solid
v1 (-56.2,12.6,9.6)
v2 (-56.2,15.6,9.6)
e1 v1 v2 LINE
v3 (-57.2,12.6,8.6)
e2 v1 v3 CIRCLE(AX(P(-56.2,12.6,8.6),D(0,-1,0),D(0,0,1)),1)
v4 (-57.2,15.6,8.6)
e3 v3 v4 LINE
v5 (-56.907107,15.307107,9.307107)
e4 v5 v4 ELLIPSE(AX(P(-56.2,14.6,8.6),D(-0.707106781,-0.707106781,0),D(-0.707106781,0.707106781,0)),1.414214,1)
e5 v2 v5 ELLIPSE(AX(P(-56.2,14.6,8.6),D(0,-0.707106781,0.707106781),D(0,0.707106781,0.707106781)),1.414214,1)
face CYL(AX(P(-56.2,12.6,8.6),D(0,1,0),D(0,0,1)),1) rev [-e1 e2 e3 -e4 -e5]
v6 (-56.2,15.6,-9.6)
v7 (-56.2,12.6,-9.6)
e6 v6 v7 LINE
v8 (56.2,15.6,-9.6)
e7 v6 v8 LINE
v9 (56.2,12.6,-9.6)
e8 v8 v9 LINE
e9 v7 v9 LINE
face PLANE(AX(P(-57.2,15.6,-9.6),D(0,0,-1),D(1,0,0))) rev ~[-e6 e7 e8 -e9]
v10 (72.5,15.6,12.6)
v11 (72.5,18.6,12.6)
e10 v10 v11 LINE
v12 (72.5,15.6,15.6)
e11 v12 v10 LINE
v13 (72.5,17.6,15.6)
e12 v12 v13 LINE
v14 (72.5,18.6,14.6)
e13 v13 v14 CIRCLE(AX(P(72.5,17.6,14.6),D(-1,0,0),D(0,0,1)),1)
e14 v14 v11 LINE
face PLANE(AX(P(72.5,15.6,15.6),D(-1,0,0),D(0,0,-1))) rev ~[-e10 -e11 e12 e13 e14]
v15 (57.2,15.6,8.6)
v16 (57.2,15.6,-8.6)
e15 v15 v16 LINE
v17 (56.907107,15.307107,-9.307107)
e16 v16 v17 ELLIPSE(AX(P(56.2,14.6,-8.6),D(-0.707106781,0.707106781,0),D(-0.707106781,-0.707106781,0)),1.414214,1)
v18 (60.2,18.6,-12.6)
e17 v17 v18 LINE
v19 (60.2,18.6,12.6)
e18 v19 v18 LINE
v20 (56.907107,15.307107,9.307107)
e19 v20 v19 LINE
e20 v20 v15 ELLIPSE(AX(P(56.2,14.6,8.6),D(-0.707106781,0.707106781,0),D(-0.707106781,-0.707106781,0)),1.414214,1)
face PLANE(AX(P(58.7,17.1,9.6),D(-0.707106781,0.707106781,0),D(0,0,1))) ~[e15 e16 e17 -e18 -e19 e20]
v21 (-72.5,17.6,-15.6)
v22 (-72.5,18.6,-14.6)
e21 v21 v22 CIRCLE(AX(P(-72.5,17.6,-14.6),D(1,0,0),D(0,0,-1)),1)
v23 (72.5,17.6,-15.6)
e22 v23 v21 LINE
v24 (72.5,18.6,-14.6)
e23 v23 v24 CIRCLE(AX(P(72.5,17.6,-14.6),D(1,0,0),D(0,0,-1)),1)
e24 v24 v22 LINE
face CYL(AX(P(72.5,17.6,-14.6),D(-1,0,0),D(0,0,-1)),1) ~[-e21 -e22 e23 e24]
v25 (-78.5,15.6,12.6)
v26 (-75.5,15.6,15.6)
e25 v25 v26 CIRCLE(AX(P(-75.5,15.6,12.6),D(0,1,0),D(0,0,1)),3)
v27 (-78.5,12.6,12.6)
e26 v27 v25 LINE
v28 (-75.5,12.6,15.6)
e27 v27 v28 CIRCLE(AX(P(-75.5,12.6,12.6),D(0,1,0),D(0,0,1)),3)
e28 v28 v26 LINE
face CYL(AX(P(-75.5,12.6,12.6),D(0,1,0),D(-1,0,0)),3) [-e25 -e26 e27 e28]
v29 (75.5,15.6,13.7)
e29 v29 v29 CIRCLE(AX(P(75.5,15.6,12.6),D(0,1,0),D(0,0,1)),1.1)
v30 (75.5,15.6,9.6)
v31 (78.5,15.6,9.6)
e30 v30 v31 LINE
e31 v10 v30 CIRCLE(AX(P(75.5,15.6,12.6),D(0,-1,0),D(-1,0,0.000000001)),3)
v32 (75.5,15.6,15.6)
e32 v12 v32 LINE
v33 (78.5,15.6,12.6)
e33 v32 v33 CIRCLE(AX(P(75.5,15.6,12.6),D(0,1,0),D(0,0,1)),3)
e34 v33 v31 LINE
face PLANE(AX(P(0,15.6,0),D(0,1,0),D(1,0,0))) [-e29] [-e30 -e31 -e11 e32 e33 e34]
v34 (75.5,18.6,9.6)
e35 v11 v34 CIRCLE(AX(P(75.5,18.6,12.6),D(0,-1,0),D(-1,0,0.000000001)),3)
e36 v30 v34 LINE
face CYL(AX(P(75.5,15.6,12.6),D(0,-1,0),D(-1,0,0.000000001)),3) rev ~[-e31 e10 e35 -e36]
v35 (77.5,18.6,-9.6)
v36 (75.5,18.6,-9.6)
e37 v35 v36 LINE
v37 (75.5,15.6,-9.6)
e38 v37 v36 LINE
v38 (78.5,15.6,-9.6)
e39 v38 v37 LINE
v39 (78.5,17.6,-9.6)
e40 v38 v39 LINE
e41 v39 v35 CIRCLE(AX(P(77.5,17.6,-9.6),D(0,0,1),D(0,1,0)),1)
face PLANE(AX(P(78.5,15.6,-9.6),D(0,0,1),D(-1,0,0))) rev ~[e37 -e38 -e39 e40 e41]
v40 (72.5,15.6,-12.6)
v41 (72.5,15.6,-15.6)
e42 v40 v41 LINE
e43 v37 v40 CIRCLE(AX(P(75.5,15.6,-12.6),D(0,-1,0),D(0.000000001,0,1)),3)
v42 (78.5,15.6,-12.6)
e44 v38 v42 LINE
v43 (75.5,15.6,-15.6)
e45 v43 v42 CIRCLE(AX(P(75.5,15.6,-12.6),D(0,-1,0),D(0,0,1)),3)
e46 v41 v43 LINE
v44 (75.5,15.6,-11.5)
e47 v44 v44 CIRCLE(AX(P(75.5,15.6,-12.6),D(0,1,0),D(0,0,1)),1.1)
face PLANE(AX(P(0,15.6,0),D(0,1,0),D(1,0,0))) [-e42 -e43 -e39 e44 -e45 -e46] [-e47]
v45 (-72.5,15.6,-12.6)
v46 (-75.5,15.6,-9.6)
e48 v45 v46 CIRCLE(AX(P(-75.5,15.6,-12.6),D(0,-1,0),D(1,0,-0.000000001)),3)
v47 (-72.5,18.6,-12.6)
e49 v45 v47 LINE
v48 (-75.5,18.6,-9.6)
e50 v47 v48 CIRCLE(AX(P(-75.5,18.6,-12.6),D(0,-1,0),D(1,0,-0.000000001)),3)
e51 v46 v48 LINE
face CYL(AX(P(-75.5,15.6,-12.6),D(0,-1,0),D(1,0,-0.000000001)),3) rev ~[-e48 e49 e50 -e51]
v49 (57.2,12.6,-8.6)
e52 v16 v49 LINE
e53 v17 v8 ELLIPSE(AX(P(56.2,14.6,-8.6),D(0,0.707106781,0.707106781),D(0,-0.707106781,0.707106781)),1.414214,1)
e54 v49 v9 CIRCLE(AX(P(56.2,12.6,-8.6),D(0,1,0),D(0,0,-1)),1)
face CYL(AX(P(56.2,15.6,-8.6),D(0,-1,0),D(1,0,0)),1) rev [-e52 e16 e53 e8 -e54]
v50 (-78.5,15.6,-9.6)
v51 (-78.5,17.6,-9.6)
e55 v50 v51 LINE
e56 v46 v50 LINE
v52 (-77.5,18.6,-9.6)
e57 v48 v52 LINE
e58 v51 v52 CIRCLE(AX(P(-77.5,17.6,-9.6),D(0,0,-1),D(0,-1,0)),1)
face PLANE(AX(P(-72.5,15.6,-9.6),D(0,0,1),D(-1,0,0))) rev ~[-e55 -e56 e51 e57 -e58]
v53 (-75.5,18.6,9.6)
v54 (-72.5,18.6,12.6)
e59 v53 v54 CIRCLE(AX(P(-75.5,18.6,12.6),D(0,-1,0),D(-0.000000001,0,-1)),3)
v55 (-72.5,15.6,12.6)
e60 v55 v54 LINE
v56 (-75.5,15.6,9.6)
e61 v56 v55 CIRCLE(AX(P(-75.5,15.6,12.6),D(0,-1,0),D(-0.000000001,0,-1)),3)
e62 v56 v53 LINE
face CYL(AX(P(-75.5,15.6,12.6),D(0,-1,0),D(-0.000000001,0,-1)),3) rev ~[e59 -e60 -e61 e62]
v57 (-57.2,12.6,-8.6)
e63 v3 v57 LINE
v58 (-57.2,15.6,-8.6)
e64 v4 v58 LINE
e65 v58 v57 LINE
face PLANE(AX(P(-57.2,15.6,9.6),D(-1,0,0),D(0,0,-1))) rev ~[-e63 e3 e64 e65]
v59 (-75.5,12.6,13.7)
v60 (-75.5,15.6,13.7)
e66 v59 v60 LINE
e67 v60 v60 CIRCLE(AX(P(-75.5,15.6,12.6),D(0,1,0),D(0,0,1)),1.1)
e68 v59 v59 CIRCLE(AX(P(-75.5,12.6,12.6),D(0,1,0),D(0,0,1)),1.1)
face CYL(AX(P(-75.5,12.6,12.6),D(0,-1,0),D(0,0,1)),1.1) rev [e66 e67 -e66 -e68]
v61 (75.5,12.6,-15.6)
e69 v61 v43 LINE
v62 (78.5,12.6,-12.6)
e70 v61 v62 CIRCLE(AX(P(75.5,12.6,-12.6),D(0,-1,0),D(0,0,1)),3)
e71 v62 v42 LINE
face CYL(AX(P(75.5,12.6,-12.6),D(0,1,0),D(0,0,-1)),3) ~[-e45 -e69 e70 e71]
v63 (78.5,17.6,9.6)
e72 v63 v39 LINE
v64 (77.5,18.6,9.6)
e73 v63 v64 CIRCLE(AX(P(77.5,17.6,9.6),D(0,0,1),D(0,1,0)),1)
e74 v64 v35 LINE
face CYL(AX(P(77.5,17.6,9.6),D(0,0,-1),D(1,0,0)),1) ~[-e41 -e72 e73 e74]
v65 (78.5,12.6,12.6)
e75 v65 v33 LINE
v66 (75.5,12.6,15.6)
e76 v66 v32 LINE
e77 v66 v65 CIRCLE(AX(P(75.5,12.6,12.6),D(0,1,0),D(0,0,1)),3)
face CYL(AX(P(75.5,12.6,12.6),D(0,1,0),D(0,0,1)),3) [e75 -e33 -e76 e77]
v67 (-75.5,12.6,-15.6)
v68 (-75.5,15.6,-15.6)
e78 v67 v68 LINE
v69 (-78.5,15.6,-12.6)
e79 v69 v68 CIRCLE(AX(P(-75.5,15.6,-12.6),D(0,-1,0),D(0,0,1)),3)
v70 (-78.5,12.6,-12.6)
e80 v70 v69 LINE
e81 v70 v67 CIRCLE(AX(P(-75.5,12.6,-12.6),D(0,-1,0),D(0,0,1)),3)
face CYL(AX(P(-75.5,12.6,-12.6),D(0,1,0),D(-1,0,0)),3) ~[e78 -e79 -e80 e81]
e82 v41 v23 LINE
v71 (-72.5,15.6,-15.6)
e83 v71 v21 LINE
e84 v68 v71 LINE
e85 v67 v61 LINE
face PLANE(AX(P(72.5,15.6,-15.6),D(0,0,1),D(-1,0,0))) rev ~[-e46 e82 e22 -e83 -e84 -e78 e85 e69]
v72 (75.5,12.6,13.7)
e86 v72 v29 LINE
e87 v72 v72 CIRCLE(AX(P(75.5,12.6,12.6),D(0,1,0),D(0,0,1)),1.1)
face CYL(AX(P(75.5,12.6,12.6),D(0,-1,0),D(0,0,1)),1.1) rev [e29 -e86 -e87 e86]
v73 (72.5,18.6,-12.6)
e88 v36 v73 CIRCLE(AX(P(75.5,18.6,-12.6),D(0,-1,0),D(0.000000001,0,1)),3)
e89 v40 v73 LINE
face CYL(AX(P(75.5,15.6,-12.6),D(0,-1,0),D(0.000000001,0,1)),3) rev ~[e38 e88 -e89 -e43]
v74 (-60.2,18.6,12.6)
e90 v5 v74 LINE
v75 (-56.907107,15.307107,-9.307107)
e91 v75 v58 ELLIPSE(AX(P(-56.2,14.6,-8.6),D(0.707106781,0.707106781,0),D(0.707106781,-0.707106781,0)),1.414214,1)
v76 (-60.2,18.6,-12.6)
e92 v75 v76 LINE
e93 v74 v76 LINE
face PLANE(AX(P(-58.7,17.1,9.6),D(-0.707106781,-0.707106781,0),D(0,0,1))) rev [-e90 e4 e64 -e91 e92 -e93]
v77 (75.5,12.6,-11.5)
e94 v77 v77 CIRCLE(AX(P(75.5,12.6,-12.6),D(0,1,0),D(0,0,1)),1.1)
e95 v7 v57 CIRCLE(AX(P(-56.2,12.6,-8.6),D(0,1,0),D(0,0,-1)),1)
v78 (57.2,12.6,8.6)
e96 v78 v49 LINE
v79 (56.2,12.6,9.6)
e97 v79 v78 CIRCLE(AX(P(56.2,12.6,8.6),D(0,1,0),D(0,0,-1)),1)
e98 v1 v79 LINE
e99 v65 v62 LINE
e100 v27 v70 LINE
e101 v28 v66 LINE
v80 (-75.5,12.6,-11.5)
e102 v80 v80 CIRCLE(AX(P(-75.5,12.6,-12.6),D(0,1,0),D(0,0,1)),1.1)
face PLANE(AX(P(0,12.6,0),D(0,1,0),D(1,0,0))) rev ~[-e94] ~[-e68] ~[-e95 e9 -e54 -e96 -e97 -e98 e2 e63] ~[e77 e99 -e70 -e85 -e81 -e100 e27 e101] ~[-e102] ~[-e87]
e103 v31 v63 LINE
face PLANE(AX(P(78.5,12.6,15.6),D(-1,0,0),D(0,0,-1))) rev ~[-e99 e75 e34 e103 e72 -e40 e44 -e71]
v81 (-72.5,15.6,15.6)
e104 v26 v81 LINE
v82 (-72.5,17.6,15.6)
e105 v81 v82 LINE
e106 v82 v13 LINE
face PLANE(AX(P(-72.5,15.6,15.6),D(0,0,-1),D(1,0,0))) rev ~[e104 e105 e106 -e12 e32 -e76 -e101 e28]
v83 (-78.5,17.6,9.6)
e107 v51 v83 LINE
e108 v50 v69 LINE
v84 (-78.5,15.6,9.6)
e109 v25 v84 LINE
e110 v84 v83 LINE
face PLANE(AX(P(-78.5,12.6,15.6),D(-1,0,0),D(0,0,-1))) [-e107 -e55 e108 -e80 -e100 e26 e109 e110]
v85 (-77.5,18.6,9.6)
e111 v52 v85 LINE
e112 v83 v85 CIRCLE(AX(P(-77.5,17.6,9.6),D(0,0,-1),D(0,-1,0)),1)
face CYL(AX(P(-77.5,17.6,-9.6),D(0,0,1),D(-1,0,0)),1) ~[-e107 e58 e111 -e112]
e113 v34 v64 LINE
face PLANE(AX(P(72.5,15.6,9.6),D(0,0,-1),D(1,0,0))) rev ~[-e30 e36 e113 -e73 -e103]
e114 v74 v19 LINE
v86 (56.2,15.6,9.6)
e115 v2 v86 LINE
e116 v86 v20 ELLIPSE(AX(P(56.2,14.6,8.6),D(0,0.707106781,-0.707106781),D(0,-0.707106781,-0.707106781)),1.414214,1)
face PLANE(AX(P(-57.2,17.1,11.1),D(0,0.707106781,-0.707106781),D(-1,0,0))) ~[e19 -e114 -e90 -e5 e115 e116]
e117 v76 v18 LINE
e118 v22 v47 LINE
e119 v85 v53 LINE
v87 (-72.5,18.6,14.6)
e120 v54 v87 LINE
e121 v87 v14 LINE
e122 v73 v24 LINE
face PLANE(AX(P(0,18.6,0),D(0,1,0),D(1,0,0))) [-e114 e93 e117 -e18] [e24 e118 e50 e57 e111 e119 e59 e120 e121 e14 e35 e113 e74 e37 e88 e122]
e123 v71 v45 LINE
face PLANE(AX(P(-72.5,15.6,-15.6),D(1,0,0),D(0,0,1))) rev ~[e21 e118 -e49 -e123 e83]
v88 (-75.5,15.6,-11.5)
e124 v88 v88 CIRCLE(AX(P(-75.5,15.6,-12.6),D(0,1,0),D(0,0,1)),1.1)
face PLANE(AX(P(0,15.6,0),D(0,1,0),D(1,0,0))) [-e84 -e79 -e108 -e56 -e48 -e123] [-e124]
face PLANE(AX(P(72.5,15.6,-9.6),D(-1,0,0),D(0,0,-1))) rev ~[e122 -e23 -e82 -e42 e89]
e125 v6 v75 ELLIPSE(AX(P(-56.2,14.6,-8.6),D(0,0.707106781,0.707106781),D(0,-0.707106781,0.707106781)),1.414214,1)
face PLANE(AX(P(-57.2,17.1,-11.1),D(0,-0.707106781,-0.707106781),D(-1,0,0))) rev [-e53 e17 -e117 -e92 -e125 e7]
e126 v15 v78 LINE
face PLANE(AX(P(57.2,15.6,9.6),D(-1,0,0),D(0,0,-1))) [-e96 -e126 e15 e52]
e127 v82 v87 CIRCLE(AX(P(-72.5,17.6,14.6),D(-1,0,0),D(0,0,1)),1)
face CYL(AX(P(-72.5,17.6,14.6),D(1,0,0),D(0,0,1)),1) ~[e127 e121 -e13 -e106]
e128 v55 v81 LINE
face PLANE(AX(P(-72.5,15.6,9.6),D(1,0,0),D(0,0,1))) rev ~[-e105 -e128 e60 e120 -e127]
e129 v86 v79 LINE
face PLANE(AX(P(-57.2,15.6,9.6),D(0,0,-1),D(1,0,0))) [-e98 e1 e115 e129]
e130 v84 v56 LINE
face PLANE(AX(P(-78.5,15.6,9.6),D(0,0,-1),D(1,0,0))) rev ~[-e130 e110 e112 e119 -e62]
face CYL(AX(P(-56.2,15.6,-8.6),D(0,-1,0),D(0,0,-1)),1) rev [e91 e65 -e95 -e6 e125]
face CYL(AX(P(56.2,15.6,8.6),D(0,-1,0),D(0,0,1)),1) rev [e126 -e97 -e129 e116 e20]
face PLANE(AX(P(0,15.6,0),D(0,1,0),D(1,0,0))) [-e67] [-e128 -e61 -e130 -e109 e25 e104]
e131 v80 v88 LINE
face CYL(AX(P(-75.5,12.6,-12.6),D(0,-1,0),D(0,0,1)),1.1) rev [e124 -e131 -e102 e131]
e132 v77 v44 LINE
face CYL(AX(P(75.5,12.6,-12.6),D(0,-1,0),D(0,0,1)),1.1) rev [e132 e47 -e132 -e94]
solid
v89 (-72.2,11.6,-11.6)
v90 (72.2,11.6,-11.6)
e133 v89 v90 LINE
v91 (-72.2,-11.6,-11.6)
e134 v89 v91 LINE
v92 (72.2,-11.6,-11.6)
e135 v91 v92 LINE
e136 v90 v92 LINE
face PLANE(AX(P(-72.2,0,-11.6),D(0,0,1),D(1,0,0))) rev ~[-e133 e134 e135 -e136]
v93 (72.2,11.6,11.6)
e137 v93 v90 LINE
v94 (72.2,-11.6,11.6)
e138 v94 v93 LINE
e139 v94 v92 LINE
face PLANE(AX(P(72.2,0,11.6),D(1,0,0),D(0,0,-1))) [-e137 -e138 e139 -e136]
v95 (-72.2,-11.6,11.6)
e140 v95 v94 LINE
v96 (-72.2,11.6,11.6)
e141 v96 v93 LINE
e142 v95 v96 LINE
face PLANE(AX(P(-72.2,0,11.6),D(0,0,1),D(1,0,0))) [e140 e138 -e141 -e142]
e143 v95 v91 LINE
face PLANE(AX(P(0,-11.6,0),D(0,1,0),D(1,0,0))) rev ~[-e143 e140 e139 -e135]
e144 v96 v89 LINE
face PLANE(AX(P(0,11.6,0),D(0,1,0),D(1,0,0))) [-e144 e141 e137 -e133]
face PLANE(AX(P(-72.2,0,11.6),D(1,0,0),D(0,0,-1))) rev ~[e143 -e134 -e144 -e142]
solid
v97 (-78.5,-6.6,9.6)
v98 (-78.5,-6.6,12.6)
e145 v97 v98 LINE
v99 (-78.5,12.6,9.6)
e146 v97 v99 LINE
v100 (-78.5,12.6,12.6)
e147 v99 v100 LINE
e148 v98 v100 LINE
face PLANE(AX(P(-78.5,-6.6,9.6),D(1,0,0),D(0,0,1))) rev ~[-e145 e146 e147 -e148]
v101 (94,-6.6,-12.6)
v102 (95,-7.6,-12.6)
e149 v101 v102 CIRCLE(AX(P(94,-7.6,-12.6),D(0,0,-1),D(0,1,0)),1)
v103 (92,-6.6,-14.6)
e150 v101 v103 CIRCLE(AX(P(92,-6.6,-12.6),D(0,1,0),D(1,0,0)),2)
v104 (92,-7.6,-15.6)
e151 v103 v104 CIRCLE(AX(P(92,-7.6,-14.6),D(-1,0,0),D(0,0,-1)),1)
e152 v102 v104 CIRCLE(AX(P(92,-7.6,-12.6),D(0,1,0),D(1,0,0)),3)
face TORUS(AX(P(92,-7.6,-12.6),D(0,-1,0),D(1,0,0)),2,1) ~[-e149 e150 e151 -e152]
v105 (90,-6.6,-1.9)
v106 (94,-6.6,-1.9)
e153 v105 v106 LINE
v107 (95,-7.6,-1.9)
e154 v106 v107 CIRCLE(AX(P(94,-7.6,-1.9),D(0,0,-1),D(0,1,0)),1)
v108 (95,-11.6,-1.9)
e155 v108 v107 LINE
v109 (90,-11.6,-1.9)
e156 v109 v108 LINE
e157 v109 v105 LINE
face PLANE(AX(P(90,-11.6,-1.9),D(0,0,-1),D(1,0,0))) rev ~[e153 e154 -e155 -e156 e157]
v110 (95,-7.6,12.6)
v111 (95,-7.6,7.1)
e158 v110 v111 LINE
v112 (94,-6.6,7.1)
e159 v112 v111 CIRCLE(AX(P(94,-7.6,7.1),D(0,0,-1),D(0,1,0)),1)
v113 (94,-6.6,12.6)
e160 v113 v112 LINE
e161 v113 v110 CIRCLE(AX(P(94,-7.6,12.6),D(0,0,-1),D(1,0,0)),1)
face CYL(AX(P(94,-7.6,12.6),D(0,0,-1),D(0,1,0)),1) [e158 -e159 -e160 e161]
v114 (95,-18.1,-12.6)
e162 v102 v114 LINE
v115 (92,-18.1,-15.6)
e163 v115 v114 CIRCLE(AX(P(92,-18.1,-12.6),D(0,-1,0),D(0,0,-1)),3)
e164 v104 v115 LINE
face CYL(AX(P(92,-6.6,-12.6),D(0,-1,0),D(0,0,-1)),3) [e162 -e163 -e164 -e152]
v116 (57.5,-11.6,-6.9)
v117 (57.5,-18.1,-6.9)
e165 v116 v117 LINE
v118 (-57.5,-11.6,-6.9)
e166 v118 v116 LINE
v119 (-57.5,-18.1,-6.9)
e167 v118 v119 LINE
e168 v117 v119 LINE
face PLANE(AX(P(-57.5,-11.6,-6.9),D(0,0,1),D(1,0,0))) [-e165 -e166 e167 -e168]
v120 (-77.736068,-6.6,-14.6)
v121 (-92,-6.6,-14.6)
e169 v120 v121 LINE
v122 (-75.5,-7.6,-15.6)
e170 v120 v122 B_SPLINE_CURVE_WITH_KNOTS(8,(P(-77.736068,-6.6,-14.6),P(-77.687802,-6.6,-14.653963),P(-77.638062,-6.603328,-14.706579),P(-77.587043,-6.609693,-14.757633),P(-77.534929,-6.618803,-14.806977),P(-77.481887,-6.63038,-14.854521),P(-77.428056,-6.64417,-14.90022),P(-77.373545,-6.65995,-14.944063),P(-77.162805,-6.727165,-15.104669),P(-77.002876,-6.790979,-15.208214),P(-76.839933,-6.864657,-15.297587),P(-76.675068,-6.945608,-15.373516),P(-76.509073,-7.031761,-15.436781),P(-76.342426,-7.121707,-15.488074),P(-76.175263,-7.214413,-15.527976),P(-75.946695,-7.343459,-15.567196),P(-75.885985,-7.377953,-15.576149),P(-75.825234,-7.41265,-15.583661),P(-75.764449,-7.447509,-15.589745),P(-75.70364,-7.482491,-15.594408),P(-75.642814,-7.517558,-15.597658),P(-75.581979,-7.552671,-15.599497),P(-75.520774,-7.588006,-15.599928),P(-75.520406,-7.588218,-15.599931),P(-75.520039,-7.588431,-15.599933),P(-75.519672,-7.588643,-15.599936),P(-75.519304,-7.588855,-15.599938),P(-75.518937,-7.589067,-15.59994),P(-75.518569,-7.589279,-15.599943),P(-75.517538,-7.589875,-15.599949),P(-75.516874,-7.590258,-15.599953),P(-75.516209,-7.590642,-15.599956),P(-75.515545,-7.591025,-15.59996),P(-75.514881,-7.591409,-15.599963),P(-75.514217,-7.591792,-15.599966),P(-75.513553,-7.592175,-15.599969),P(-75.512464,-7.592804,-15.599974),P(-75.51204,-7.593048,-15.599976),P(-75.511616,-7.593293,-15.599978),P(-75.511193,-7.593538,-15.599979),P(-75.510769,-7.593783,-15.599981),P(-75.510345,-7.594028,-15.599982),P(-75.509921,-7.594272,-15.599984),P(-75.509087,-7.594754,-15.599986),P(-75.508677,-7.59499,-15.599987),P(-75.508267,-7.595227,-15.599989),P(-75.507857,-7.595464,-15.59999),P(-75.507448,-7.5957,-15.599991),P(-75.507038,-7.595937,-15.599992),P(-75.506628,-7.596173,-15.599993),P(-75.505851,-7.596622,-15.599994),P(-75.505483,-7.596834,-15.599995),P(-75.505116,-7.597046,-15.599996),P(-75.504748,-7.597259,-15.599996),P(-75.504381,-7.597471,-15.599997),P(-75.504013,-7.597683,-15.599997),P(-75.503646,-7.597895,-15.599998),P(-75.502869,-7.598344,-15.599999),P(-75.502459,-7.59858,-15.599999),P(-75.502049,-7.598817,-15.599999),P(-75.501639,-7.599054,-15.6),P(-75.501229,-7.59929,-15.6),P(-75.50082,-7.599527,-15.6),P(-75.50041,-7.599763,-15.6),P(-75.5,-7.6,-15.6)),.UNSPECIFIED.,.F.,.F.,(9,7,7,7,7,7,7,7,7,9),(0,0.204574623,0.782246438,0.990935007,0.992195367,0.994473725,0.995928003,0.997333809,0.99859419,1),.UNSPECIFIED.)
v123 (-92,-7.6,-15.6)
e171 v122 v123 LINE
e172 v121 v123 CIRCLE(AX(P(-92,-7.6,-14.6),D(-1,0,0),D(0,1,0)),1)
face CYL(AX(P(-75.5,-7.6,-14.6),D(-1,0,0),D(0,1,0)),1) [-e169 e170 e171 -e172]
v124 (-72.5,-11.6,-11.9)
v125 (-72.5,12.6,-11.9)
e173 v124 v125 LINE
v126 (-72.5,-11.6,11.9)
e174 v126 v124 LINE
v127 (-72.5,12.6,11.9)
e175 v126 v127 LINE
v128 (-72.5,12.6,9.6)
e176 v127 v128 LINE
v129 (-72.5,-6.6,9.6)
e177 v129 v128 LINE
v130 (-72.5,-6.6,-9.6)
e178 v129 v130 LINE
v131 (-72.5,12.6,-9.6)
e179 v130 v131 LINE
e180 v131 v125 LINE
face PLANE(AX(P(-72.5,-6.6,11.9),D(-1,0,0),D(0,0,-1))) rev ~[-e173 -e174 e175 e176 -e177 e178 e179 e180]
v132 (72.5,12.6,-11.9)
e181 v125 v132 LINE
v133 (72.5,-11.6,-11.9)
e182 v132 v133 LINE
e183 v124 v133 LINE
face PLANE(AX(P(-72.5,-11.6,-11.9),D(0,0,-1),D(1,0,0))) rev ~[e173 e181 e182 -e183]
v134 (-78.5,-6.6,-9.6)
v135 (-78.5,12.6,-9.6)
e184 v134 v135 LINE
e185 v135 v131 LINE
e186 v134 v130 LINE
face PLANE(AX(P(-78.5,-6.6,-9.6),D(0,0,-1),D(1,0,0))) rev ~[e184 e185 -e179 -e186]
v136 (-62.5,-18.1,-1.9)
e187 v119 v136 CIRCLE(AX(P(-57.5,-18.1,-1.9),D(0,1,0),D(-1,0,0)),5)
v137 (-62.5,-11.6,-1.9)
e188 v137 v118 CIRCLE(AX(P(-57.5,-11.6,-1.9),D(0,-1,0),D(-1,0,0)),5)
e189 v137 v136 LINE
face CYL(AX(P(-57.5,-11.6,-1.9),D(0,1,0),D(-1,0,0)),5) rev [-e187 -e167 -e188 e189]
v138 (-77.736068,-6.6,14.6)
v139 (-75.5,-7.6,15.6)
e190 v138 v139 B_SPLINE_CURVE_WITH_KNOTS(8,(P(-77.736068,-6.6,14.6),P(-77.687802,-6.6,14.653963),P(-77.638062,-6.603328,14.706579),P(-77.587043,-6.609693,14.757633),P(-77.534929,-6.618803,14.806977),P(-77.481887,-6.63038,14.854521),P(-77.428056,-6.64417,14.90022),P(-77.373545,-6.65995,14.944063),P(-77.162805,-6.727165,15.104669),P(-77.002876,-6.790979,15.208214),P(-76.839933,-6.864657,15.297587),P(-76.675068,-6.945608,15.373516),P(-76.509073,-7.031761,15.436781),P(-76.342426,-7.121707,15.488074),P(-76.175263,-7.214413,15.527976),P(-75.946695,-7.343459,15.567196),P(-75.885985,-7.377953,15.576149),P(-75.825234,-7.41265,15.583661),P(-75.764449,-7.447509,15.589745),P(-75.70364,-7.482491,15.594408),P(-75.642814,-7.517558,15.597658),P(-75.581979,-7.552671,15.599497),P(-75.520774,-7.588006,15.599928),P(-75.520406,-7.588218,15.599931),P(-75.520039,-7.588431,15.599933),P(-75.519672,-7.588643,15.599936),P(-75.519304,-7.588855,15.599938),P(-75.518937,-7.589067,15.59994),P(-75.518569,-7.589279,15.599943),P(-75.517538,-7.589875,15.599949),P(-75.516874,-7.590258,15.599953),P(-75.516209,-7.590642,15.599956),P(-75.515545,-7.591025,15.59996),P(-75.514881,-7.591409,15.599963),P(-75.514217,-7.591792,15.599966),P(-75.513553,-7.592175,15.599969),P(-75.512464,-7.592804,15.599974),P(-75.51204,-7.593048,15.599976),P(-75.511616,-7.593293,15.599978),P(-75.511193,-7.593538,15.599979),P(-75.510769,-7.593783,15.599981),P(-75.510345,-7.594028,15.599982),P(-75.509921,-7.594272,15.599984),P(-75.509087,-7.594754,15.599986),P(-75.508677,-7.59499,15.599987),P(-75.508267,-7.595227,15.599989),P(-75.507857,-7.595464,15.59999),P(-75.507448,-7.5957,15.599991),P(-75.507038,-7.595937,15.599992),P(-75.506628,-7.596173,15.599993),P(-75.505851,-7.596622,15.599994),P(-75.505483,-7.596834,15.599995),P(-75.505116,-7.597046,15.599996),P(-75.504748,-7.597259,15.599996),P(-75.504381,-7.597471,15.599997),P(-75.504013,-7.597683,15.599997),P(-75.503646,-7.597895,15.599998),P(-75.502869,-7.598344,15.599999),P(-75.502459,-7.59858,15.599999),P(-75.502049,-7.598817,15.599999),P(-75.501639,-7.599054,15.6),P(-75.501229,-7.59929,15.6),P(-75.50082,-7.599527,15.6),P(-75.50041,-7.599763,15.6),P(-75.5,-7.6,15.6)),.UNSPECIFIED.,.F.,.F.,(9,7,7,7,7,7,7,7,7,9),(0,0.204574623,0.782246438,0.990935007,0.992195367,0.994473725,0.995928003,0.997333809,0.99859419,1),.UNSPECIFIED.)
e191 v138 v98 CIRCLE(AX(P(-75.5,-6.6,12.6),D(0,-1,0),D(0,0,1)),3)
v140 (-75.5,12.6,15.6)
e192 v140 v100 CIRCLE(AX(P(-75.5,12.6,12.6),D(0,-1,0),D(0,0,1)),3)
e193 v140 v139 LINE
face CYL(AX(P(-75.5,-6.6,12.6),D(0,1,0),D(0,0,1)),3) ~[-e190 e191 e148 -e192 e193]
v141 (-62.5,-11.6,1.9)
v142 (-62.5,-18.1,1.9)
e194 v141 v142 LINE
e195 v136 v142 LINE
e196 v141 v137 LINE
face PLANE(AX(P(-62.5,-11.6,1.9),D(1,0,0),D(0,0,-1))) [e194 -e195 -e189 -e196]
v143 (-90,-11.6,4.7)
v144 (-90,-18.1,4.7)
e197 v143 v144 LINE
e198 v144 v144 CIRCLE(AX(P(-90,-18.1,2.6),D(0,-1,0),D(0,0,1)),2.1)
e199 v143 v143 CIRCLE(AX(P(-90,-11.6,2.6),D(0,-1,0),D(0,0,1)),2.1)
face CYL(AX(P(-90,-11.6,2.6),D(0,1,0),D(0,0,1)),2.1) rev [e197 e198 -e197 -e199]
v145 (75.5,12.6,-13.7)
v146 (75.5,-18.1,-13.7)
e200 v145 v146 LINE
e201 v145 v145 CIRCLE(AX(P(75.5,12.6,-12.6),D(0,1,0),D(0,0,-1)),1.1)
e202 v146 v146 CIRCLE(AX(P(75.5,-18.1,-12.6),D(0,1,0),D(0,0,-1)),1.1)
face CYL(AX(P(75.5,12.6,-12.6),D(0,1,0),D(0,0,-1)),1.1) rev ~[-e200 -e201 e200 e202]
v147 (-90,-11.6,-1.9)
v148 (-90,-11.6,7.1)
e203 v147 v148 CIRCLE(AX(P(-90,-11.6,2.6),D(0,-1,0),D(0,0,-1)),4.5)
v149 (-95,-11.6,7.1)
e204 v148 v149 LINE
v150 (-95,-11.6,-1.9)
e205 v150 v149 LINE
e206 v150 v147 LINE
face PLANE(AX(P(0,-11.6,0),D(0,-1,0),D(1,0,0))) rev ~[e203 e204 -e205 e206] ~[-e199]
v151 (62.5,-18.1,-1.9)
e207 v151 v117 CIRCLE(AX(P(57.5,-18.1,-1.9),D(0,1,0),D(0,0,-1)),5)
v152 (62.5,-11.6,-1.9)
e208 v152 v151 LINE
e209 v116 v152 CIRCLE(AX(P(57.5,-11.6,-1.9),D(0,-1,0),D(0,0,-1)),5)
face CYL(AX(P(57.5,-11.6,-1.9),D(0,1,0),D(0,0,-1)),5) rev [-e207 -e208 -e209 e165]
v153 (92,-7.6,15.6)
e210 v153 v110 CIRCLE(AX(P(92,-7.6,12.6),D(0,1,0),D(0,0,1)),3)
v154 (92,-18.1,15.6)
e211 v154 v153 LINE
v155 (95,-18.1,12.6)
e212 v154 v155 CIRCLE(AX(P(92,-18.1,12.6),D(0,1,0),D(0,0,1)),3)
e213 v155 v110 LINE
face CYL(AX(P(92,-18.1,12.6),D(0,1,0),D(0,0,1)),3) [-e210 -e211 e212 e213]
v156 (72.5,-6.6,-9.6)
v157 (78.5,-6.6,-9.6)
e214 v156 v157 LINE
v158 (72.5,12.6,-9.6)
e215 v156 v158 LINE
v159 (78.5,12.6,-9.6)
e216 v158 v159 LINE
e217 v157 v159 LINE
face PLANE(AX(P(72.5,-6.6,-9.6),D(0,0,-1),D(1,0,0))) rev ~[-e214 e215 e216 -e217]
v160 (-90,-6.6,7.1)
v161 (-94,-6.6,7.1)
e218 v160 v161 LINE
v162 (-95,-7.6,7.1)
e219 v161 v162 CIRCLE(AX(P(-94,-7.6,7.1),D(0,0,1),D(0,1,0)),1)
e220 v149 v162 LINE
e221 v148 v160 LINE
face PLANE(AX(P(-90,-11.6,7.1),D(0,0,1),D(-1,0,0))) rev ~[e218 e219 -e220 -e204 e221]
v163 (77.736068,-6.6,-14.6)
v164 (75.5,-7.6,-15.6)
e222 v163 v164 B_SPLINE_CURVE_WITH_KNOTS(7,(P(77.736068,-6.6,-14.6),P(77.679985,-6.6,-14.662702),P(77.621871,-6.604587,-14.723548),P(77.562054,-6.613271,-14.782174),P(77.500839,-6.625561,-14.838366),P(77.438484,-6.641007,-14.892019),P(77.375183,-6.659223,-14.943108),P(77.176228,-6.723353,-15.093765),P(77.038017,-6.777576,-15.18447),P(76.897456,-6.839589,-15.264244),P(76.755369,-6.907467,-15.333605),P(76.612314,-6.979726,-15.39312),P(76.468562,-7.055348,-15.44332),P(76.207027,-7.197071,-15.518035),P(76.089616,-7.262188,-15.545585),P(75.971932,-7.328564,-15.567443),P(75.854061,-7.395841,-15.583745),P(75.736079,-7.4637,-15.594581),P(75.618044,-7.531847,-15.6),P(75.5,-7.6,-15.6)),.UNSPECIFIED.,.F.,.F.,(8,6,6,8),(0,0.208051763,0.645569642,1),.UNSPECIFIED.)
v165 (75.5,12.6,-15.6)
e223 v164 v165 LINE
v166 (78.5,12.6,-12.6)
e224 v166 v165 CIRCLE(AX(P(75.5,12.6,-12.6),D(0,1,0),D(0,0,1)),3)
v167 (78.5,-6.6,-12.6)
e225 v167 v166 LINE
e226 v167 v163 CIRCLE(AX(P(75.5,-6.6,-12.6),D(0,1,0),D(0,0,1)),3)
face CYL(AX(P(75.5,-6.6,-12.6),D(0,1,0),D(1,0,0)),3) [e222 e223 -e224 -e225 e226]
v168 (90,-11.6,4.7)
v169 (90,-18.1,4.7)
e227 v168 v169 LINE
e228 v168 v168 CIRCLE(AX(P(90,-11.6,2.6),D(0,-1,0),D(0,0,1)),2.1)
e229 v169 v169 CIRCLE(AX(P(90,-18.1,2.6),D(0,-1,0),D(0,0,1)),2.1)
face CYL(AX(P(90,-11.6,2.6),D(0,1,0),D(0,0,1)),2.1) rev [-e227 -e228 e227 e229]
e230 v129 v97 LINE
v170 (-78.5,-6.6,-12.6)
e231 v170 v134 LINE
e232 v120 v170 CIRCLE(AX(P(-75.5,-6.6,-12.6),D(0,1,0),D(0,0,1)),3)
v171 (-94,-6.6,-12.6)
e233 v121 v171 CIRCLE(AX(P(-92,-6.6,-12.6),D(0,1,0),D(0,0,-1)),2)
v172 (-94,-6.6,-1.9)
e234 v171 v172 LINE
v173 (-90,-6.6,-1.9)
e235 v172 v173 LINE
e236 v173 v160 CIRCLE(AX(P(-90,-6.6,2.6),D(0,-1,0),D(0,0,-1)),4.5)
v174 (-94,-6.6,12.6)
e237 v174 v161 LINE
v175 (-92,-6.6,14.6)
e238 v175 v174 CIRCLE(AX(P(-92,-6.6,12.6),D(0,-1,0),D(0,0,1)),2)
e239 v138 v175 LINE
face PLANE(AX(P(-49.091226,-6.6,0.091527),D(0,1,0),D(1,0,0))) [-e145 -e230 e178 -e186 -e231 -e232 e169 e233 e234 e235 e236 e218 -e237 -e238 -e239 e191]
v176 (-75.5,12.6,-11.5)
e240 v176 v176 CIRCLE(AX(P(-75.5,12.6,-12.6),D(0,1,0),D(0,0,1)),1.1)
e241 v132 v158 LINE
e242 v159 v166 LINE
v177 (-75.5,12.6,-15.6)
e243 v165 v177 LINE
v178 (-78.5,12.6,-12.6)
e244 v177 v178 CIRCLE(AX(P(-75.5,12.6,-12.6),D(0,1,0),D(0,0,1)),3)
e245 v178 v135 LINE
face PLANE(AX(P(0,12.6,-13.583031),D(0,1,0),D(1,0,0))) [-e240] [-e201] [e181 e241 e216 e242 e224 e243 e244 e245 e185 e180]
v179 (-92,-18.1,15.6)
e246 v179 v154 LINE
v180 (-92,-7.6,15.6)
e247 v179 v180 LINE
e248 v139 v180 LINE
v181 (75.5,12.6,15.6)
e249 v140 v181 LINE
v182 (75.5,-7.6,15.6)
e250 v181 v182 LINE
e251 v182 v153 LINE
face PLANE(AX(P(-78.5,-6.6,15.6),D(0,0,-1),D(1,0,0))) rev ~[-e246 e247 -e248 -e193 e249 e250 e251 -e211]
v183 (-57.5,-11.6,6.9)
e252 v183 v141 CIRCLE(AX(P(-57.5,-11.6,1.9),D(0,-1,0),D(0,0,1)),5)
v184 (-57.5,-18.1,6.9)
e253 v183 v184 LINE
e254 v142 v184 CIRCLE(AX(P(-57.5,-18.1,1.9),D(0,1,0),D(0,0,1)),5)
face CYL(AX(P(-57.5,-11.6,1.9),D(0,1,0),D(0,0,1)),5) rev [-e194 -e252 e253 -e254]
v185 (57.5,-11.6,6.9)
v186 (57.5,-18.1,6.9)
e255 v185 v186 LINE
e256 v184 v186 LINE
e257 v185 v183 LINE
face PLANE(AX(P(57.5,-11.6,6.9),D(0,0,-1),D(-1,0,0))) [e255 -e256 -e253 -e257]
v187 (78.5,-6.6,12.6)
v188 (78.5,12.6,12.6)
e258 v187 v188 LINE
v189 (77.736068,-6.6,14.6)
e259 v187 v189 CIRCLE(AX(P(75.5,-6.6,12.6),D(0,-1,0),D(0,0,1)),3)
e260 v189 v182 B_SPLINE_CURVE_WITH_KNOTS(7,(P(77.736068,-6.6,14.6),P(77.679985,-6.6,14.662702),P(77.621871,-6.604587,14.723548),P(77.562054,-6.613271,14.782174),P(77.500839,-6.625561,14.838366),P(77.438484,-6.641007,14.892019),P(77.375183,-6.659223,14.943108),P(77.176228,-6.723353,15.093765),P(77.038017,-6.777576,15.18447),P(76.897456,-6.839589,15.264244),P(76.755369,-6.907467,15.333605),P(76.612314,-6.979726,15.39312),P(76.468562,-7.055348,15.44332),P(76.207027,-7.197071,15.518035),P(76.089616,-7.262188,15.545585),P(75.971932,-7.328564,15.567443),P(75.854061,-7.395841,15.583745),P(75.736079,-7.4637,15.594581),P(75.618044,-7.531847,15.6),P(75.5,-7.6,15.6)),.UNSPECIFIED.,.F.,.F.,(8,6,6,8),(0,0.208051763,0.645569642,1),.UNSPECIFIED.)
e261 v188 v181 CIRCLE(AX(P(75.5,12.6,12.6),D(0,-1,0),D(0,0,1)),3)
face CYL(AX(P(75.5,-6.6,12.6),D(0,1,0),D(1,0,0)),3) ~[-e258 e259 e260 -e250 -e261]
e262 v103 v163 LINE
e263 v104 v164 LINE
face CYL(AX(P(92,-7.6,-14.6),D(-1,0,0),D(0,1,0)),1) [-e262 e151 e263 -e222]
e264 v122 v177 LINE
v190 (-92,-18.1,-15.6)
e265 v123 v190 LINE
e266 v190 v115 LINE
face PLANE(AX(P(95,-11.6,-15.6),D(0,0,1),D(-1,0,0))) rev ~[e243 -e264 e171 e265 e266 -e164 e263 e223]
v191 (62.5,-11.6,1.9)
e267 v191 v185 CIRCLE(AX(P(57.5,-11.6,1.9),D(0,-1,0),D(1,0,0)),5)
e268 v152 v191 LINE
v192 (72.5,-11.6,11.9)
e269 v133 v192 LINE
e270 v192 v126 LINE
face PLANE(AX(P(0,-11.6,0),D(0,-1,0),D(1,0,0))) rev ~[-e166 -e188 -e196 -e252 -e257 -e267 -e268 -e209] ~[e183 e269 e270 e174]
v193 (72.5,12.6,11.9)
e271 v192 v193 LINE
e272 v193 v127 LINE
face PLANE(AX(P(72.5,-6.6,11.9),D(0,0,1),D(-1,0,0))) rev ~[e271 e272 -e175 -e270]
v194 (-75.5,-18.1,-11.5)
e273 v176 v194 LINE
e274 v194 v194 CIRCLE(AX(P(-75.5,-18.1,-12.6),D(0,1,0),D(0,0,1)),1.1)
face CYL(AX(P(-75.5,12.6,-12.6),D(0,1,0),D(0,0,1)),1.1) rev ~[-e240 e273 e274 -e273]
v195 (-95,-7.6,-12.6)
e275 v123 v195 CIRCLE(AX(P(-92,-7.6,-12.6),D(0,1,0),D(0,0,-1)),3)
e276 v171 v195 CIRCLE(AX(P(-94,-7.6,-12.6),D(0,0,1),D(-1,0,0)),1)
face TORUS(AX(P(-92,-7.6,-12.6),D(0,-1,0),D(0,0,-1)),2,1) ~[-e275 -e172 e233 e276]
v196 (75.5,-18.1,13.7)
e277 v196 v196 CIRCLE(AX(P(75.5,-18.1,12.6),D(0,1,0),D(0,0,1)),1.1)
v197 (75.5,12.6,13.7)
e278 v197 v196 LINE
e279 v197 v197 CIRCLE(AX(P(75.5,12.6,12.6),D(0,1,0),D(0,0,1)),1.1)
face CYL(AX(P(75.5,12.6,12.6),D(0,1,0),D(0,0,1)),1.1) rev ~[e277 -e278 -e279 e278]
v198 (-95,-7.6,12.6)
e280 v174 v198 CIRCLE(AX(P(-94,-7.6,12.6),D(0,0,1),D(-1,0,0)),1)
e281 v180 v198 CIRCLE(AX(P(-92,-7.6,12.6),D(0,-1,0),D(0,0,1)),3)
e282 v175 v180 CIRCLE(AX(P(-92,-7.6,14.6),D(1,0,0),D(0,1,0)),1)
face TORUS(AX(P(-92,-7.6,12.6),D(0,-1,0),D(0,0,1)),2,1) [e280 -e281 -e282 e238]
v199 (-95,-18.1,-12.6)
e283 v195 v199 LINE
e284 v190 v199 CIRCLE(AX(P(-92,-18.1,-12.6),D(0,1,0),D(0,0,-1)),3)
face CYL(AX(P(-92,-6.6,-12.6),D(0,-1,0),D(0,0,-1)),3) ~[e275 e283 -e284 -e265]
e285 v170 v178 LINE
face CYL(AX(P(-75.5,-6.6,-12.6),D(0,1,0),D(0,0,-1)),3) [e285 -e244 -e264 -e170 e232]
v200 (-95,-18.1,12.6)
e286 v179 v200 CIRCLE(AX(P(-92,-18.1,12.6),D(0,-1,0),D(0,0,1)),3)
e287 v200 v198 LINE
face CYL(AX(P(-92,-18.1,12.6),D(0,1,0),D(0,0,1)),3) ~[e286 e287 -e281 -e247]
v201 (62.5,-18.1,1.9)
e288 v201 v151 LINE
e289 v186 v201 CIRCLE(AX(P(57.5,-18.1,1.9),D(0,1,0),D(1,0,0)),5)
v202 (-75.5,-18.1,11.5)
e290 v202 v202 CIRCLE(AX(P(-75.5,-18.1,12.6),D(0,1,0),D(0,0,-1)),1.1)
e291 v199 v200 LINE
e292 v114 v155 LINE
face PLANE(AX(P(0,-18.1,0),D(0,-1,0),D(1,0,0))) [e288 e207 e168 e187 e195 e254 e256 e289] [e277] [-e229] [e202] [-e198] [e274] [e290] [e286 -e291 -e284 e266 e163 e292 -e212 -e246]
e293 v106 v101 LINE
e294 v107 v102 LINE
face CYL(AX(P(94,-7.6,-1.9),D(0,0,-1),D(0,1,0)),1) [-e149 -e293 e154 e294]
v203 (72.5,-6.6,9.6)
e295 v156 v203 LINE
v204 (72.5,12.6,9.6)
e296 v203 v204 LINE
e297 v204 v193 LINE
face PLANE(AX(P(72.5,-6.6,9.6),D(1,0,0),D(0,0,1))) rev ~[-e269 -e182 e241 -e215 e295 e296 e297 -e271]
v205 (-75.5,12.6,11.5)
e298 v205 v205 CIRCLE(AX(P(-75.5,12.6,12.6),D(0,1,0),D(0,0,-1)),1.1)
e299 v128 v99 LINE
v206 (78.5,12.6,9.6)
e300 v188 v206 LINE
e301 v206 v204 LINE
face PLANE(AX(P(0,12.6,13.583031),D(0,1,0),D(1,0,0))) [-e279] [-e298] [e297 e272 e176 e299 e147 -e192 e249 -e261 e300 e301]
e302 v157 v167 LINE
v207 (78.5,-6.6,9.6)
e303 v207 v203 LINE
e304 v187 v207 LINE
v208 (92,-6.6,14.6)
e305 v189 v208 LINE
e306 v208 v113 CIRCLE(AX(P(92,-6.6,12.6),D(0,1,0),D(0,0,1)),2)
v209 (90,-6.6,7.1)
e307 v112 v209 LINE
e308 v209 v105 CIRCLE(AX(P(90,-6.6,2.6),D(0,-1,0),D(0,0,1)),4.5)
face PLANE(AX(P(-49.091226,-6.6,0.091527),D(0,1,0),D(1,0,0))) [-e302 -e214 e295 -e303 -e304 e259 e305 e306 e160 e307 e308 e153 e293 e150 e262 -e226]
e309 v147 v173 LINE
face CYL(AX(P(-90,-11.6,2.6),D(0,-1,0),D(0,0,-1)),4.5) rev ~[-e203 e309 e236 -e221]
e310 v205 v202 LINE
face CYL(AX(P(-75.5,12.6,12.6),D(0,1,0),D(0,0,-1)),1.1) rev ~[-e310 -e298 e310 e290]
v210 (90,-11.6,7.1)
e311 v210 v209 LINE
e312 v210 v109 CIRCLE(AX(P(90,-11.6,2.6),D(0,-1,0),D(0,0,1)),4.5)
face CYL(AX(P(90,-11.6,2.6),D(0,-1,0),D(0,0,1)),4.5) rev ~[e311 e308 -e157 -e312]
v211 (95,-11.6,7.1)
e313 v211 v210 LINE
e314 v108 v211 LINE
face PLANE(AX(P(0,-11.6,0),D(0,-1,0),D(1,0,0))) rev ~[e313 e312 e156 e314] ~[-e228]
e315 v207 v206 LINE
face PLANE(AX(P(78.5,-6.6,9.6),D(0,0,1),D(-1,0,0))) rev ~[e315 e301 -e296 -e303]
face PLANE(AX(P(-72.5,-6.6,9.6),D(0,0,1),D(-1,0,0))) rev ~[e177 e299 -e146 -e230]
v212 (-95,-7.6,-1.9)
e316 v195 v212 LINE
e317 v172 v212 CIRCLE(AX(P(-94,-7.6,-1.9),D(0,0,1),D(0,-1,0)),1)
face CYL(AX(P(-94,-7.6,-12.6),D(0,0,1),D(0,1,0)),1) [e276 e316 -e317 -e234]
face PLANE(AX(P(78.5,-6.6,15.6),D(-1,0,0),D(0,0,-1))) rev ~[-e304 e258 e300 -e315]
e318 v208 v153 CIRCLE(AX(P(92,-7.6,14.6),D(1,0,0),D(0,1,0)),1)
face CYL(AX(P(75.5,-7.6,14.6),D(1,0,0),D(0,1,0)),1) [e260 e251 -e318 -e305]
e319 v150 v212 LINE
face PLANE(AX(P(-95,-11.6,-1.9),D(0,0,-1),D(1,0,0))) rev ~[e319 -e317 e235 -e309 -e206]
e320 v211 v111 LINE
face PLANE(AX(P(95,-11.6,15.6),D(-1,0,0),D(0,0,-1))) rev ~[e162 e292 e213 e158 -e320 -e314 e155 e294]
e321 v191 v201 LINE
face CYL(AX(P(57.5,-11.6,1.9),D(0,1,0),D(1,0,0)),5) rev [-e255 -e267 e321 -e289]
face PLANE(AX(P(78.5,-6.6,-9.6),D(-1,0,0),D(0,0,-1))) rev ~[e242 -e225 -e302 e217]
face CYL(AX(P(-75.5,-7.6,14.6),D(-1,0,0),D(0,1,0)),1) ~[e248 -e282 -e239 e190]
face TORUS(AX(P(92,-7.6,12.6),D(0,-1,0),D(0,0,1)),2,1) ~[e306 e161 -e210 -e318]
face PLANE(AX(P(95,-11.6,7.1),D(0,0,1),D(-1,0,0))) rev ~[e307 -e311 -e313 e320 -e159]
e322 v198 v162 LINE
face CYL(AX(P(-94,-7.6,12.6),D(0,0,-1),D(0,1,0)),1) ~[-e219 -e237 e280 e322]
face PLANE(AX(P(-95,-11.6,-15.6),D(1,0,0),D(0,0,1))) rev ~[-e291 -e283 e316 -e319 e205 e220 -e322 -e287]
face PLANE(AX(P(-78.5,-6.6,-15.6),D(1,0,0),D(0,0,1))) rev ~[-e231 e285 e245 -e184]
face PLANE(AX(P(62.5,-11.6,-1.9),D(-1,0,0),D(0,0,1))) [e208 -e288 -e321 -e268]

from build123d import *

# Parameters (mm, degrees)
SKETCH_1_W          = 144.4
SKETCH_1_H          = 23.2
EXTRUDE_393_DEPTH   = 11.6
SKETCH_2_W          = 190
SKETCH_2_H          = 31.2
SKETCH_2_R          = 2.1
EXTRUDE_2_DEPTH     = 6.5
EXTRUDE_3_DEPTH     = 5
EXTRUDE_4_DEPTH     = 19.2
SKETCH_5_R          = 1.1
CUT_EXTRUDE_1_DEPTH = 102.048750611
CUT_EXTRUDE_2_DEPTH = 100.26731587
SKETCH_6_W          = 157
SKETCH_6_H          = 31.2
SKETCH_6_R          = 1.1
SKETCH_6_W_2        = 114.4
SKETCH_6_H_2        = 19.2
EXTRUDE_6_DEPTH     = 3
SKETCH_7_W          = 114.4
SKETCH_7_H          = 19.2
EXTRUDE_7_DEPTH     = 3
CHAMFER_1_SIZE      = 3
FILLET_1_R          = 3
FILLET_2_R          = 3
FILLET_3_R          = 1
FILLET_4_R          = 1


with BuildPart() as part:
    # ｽｹｯﾁ1 → Extrude 393 (new, symmetric)
    with BuildSketch(Plane(origin=(0, 0, 0), x_dir=(1, 0, 0), z_dir=(0, 1, 0))):
        Rectangle(SKETCH_1_W, SKETCH_1_H)
    extrude(amount=EXTRUDE_393_DEPTH, both=True)


with BuildPart() as body_2:
    # ｽｹｯﾁ2 → ﾎﾞｽ - 押し出し2 (new body)
    with BuildSketch(Plane.XZ.offset(11.6)):
        Rectangle(SKETCH_2_W, SKETCH_2_H)
        with Locations(Location((-90, 2.6, 0), (0, 0, 90))):
            Circle(SKETCH_2_R, mode=Mode.SUBTRACT)
        with Locations(Location((90, 2.6, 0), (0, 0, 90))):
            Circle(SKETCH_2_R, mode=Mode.SUBTRACT)
    extrude(amount=EXTRUDE_2_DEPTH)

    # ｽｹｯﾁ3 → ﾎﾞｽ - 押し出し3 (add)
    with BuildSketch(Plane(origin=(0, -11.6, 0), x_dir=(1, 0, 0), z_dir=(0, 1, 0))):
        with BuildLine():
            Line((-95, 1.9), (-90, 1.9))
            ThreePointArc((-90, 1.9), (-85.5, -2.6), (-90, -7.1))
            Line((-90, -7.1), (-95, -7.1))
            Line((-95, -7.1), (-95, -15.6))
            Line((-95, -15.6), (0, -15.6))
            Line((0, -15.6), (0, -11.9))
            Line((0, -11.9), (-72.5, -11.9))
            Line((-72.5, -11.9), (-72.5, 11.9))
            Line((-72.5, 11.9), (0, 11.9))
            Line((0, 11.9), (0, 15.6))
            Line((0, 15.6), (-95, 15.6))
            Line((-95, 15.6), (-95, 1.9))
        make_face()
        with BuildLine():
            Line((95, 15.6), (0, 15.6))
            Line((0, 15.6), (0, 11.9))
            Line((0, 11.9), (72.5, 11.9))
            Line((72.5, 11.9), (72.5, -11.9))
            Line((72.5, -11.9), (0, -11.9))
            Line((0, -11.9), (0, -15.6))
            Line((0, -15.6), (95, -15.6))
            Line((95, -15.6), (95, -7.1))
            Line((95, -7.1), (90, -7.1))
            ThreePointArc((90, -7.1), (85.5, -2.6), (90, 1.9))
            Line((90, 1.9), (95, 1.9))
            Line((95, 1.9), (95, 15.6))
        make_face()
    extrude(amount=EXTRUDE_3_DEPTH)

    # ｽｹｯﾁ4 → ﾎﾞｽ - 押し出し4 (add)
    with BuildSketch(Plane(origin=(0, -6.6, 0), x_dir=(1, 0, 0), z_dir=(0, 1, 0))):
        Polygon((72.5, -9.6), (72.5, -11.9), (-72.5, -11.9), (-72.5, -9.6), (-78.5, -9.6), (-78.5, -15.6), (78.5, -15.6), (78.5, -9.6), align=None)
        Polygon((72.5, 11.9), (72.5, 9.6), (78.5, 9.6), (78.5, 15.6), (-78.5, 15.6), (-78.5, 9.6), (-72.5, 9.6), (-72.5, 11.9), align=None)
    extrude(amount=EXTRUDE_4_DEPTH)

    # ｽｹｯﾁ5 → ｶｯﾄ - 押し出し1 (cut, through all)
    with BuildSketch(Plane(origin=(0, 12.6, 0), x_dir=(1, 0, 0), z_dir=(0, 1, 0))):
        with Locations(Location((-75.5, 12.6, 0), (0, 0, 270))):
            Circle(SKETCH_5_R)
        with Locations(Location((75.5, 12.6, 0), (0, 0, 90))):
            Circle(SKETCH_5_R)
        with Locations(Location((75.5, -12.6, 0), (0, 0, 270))):
            Circle(SKETCH_5_R)
        with Locations(Location((-75.5, -12.6, 0), (0, 0, 90))):
            Circle(SKETCH_5_R)
    extrude(amount=-CUT_EXTRUDE_1_DEPTH, mode=Mode.SUBTRACT)

    # ｽｹｯﾁ8 → ｶｯﾄ - 押し出し2 (cut, through all)
    with BuildSketch(Plane(origin=(0, -11.6, 0), x_dir=(1, 0, 0), z_dir=(0, 1, 0))):
        with BuildLine():
            Line((-57.5, 6.9), (57.5, 6.9))
            ThreePointArc((57.5, 6.9), (61.035533906, 5.435533906), (62.5, 1.9))
            Line((62.5, 1.9), (62.5, -1.9))
            ThreePointArc((62.5, -1.9), (61.035533906, -5.435533906), (57.5, -6.9))
            Line((57.5, -6.9), (-57.5, -6.9))
            ThreePointArc((-57.5, -6.9), (-61.035533906, -5.435533906), (-62.5, -1.9))
            Line((-62.5, -1.9), (-62.5, 1.9))
            ThreePointArc((-62.5, 1.9), (-61.035533906, 5.435533906), (-57.5, 6.9))
        make_face()
    extrude(amount=-CUT_EXTRUDE_2_DEPTH, mode=Mode.SUBTRACT)

    # ﾌｨﾚｯﾄ1
    fillet_1_edges = [body_2.edges().sort_by_distance(p)[0] for p in [
        (78.5, 3, 15.6),
        (-95, -12.35, 15.6),
        (95, -12.35, 15.6),
        (-78.5, 3, 15.6),
        (95, -12.35, -15.6),
        (-95, -12.35, -15.6),
        (-78.5, 3, -15.6),
        (78.5, 3, -15.6),
    ]]
    fillet(fillet_1_edges, radius=FILLET_1_R)

    # ﾌｨﾚｯﾄ4
    fillet_4_edges = [body_2.edges().sort_by_distance(p)[0] for p in [
        (95, -6.6, 9.85),
        (83.75, -6.6, -15.6),
        (94.121320344, -6.6, 14.721320344),
        (94.121320344, -6.6, -14.721320344),
        (-83.75, -6.6, 15.6),
        (-95, -6.6, -7.25),
        (-94.121320344, -6.6, 14.721320344),
        (-94.121320344, -6.6, -14.721320344),
        (95, -6.6, -7.25),
        (-95, -6.6, 9.85),
        (83.75, -6.6, 15.6),
        (-83.75, -6.6, -15.6),
    ]]
    fillet(fillet_4_edges, radius=FILLET_4_R)


with BuildPart() as body_3:
    # ｽｹｯﾁ6 → ﾎﾞｽ - 押し出し6 (new body)
    with BuildSketch(Plane(origin=(0, 12.6, 0), x_dir=(1, 0, 0), z_dir=(0, 1, 0))):
        Rectangle(SKETCH_6_W, SKETCH_6_H)
        with Locations(Location((75.5, -12.6, 0), (0, 0, 270))):
            Circle(SKETCH_6_R, mode=Mode.SUBTRACT)
        with Locations(Location((75.5, 12.6, 0), (0, 0, 270))):
            Circle(SKETCH_6_R, mode=Mode.SUBTRACT)
        with Locations(Location((-75.5, -12.6, 0), (0, 0, 270))):
            Circle(SKETCH_6_R, mode=Mode.SUBTRACT)
        with Locations(Location((-75.5, 12.6, 0), (0, 0, 270))):
            Circle(SKETCH_6_R, mode=Mode.SUBTRACT)
        Rectangle(SKETCH_6_W_2, SKETCH_6_H_2, mode=Mode.SUBTRACT)
    extrude(amount=EXTRUDE_6_DEPTH)

    # ｽｹｯﾁ7 → ﾎﾞｽ - 押し出し7 (add)
    # profile 1 of 5: a face of its own
    with BuildSketch(Plane(origin=(0, 15.6, 0), x_dir=(1, 0, 0), z_dir=(0, 1, 0))):
        Polygon((-72.5, -12.6), (-72.5, -15.6), (72.5, -15.6), (72.5, -12.6), (72.5, -9.6), (75.5, -9.6), (78.5, -9.6), (78.5, 9.6), (75.5, 9.6), (72.5, 9.6), (72.5, 12.6), (72.5, 15.6), (-72.5, 15.6), (-72.5, 12.6), (-72.5, 9.6), (-75.5, 9.6), (-78.5, 9.6), (-78.5, -9.6), (-75.5, -9.6), (-72.5, -9.6), align=None)
        Rectangle(SKETCH_7_W, SKETCH_7_H, mode=Mode.SUBTRACT)
    # profile 2 of 5: a face of its own
    with BuildSketch(Plane(origin=(0, 15.6, 0), x_dir=(1, 0, 0), z_dir=(0, 1, 0))):
        with BuildLine():
            ThreePointArc((-72.5, 12.6), (-73.378679656, 10.478679656), (-75.5, 9.6))
            Line((-75.5, 9.6), (-72.5, 9.6))
            Line((-72.5, 9.6), (-72.5, 12.6))
        make_face()
    # profile 3 of 5: a face of its own
    with BuildSketch(Plane(origin=(0, 15.6, 0), x_dir=(1, 0, 0), z_dir=(0, 1, 0))):
        with BuildLine():
            ThreePointArc((-75.5, -9.6), (-73.378679656, -10.478679656), (-72.5, -12.6))
            Line((-72.5, -12.6), (-72.5, -9.6))
            Line((-72.5, -9.6), (-75.5, -9.6))
        make_face()
    # profile 4 of 5: a face of its own
    with BuildSketch(Plane(origin=(0, 15.6, 0), x_dir=(1, 0, 0), z_dir=(0, 1, 0))):
        with BuildLine():
            Line((72.5, 9.6), (75.5, 9.6))
            ThreePointArc((75.5, 9.6), (73.378679656, 10.478679656), (72.5, 12.6))
            Line((72.5, 12.6), (72.5, 9.6))
        make_face()
    # profile 5 of 5: a face of its own
    with BuildSketch(Plane(origin=(0, 15.6, 0), x_dir=(1, 0, 0), z_dir=(0, 1, 0))):
        with BuildLine():
            Line((72.5, -9.6), (72.5, -12.6))
            ThreePointArc((72.5, -12.6), (73.378679656, -10.478679656), (75.5, -9.6))
            Line((75.5, -9.6), (72.5, -9.6))
        make_face()
    extrude(amount=EXTRUDE_7_DEPTH)

    # 面取り1
    chamfer_1_edges = [body_3.edges().sort_by_distance(p)[0] for p in [
        (57.2, 18.6, 0),
        (0, 18.6, 9.6),
        (-57.2, 18.6, 0),
        (0, 18.6, -9.6),
    ]]
    chamfer(chamfer_1_edges, length=CHAMFER_1_SIZE)

    # ﾌｨﾚｯﾄ2
    fillet_2_edges = [body_3.edges().sort_by_distance(p)[0] for p in [
        (-78.5, 14.1, -15.6),
        (78.5, 14.1, -15.6),
        (78.5, 14.1, 15.6),
        (-78.5, 14.1, 15.6),
    ]]
    fillet(fillet_2_edges, radius=FILLET_2_R)

    # ﾌｨﾚｯﾄ3
    fillet_3_edges = [body_3.edges().sort_by_distance(p)[0] for p in [
        (-57.2, 14.1, 9.6),
        (57.2, 14.1, 9.6),
        (57.2, 14.1, -9.6),
        (-57.2, 14.1, -9.6),
        (78.5, 18.6, 0),
        (0, 18.6, -15.6),
        (-78.5, 18.6, 0),
        (0, 18.6, 15.6),
    ]]
    fillet(fillet_3_edges, radius=FILLET_3_R)


solid = Compound([part.part, body_2.part, body_3.part])
